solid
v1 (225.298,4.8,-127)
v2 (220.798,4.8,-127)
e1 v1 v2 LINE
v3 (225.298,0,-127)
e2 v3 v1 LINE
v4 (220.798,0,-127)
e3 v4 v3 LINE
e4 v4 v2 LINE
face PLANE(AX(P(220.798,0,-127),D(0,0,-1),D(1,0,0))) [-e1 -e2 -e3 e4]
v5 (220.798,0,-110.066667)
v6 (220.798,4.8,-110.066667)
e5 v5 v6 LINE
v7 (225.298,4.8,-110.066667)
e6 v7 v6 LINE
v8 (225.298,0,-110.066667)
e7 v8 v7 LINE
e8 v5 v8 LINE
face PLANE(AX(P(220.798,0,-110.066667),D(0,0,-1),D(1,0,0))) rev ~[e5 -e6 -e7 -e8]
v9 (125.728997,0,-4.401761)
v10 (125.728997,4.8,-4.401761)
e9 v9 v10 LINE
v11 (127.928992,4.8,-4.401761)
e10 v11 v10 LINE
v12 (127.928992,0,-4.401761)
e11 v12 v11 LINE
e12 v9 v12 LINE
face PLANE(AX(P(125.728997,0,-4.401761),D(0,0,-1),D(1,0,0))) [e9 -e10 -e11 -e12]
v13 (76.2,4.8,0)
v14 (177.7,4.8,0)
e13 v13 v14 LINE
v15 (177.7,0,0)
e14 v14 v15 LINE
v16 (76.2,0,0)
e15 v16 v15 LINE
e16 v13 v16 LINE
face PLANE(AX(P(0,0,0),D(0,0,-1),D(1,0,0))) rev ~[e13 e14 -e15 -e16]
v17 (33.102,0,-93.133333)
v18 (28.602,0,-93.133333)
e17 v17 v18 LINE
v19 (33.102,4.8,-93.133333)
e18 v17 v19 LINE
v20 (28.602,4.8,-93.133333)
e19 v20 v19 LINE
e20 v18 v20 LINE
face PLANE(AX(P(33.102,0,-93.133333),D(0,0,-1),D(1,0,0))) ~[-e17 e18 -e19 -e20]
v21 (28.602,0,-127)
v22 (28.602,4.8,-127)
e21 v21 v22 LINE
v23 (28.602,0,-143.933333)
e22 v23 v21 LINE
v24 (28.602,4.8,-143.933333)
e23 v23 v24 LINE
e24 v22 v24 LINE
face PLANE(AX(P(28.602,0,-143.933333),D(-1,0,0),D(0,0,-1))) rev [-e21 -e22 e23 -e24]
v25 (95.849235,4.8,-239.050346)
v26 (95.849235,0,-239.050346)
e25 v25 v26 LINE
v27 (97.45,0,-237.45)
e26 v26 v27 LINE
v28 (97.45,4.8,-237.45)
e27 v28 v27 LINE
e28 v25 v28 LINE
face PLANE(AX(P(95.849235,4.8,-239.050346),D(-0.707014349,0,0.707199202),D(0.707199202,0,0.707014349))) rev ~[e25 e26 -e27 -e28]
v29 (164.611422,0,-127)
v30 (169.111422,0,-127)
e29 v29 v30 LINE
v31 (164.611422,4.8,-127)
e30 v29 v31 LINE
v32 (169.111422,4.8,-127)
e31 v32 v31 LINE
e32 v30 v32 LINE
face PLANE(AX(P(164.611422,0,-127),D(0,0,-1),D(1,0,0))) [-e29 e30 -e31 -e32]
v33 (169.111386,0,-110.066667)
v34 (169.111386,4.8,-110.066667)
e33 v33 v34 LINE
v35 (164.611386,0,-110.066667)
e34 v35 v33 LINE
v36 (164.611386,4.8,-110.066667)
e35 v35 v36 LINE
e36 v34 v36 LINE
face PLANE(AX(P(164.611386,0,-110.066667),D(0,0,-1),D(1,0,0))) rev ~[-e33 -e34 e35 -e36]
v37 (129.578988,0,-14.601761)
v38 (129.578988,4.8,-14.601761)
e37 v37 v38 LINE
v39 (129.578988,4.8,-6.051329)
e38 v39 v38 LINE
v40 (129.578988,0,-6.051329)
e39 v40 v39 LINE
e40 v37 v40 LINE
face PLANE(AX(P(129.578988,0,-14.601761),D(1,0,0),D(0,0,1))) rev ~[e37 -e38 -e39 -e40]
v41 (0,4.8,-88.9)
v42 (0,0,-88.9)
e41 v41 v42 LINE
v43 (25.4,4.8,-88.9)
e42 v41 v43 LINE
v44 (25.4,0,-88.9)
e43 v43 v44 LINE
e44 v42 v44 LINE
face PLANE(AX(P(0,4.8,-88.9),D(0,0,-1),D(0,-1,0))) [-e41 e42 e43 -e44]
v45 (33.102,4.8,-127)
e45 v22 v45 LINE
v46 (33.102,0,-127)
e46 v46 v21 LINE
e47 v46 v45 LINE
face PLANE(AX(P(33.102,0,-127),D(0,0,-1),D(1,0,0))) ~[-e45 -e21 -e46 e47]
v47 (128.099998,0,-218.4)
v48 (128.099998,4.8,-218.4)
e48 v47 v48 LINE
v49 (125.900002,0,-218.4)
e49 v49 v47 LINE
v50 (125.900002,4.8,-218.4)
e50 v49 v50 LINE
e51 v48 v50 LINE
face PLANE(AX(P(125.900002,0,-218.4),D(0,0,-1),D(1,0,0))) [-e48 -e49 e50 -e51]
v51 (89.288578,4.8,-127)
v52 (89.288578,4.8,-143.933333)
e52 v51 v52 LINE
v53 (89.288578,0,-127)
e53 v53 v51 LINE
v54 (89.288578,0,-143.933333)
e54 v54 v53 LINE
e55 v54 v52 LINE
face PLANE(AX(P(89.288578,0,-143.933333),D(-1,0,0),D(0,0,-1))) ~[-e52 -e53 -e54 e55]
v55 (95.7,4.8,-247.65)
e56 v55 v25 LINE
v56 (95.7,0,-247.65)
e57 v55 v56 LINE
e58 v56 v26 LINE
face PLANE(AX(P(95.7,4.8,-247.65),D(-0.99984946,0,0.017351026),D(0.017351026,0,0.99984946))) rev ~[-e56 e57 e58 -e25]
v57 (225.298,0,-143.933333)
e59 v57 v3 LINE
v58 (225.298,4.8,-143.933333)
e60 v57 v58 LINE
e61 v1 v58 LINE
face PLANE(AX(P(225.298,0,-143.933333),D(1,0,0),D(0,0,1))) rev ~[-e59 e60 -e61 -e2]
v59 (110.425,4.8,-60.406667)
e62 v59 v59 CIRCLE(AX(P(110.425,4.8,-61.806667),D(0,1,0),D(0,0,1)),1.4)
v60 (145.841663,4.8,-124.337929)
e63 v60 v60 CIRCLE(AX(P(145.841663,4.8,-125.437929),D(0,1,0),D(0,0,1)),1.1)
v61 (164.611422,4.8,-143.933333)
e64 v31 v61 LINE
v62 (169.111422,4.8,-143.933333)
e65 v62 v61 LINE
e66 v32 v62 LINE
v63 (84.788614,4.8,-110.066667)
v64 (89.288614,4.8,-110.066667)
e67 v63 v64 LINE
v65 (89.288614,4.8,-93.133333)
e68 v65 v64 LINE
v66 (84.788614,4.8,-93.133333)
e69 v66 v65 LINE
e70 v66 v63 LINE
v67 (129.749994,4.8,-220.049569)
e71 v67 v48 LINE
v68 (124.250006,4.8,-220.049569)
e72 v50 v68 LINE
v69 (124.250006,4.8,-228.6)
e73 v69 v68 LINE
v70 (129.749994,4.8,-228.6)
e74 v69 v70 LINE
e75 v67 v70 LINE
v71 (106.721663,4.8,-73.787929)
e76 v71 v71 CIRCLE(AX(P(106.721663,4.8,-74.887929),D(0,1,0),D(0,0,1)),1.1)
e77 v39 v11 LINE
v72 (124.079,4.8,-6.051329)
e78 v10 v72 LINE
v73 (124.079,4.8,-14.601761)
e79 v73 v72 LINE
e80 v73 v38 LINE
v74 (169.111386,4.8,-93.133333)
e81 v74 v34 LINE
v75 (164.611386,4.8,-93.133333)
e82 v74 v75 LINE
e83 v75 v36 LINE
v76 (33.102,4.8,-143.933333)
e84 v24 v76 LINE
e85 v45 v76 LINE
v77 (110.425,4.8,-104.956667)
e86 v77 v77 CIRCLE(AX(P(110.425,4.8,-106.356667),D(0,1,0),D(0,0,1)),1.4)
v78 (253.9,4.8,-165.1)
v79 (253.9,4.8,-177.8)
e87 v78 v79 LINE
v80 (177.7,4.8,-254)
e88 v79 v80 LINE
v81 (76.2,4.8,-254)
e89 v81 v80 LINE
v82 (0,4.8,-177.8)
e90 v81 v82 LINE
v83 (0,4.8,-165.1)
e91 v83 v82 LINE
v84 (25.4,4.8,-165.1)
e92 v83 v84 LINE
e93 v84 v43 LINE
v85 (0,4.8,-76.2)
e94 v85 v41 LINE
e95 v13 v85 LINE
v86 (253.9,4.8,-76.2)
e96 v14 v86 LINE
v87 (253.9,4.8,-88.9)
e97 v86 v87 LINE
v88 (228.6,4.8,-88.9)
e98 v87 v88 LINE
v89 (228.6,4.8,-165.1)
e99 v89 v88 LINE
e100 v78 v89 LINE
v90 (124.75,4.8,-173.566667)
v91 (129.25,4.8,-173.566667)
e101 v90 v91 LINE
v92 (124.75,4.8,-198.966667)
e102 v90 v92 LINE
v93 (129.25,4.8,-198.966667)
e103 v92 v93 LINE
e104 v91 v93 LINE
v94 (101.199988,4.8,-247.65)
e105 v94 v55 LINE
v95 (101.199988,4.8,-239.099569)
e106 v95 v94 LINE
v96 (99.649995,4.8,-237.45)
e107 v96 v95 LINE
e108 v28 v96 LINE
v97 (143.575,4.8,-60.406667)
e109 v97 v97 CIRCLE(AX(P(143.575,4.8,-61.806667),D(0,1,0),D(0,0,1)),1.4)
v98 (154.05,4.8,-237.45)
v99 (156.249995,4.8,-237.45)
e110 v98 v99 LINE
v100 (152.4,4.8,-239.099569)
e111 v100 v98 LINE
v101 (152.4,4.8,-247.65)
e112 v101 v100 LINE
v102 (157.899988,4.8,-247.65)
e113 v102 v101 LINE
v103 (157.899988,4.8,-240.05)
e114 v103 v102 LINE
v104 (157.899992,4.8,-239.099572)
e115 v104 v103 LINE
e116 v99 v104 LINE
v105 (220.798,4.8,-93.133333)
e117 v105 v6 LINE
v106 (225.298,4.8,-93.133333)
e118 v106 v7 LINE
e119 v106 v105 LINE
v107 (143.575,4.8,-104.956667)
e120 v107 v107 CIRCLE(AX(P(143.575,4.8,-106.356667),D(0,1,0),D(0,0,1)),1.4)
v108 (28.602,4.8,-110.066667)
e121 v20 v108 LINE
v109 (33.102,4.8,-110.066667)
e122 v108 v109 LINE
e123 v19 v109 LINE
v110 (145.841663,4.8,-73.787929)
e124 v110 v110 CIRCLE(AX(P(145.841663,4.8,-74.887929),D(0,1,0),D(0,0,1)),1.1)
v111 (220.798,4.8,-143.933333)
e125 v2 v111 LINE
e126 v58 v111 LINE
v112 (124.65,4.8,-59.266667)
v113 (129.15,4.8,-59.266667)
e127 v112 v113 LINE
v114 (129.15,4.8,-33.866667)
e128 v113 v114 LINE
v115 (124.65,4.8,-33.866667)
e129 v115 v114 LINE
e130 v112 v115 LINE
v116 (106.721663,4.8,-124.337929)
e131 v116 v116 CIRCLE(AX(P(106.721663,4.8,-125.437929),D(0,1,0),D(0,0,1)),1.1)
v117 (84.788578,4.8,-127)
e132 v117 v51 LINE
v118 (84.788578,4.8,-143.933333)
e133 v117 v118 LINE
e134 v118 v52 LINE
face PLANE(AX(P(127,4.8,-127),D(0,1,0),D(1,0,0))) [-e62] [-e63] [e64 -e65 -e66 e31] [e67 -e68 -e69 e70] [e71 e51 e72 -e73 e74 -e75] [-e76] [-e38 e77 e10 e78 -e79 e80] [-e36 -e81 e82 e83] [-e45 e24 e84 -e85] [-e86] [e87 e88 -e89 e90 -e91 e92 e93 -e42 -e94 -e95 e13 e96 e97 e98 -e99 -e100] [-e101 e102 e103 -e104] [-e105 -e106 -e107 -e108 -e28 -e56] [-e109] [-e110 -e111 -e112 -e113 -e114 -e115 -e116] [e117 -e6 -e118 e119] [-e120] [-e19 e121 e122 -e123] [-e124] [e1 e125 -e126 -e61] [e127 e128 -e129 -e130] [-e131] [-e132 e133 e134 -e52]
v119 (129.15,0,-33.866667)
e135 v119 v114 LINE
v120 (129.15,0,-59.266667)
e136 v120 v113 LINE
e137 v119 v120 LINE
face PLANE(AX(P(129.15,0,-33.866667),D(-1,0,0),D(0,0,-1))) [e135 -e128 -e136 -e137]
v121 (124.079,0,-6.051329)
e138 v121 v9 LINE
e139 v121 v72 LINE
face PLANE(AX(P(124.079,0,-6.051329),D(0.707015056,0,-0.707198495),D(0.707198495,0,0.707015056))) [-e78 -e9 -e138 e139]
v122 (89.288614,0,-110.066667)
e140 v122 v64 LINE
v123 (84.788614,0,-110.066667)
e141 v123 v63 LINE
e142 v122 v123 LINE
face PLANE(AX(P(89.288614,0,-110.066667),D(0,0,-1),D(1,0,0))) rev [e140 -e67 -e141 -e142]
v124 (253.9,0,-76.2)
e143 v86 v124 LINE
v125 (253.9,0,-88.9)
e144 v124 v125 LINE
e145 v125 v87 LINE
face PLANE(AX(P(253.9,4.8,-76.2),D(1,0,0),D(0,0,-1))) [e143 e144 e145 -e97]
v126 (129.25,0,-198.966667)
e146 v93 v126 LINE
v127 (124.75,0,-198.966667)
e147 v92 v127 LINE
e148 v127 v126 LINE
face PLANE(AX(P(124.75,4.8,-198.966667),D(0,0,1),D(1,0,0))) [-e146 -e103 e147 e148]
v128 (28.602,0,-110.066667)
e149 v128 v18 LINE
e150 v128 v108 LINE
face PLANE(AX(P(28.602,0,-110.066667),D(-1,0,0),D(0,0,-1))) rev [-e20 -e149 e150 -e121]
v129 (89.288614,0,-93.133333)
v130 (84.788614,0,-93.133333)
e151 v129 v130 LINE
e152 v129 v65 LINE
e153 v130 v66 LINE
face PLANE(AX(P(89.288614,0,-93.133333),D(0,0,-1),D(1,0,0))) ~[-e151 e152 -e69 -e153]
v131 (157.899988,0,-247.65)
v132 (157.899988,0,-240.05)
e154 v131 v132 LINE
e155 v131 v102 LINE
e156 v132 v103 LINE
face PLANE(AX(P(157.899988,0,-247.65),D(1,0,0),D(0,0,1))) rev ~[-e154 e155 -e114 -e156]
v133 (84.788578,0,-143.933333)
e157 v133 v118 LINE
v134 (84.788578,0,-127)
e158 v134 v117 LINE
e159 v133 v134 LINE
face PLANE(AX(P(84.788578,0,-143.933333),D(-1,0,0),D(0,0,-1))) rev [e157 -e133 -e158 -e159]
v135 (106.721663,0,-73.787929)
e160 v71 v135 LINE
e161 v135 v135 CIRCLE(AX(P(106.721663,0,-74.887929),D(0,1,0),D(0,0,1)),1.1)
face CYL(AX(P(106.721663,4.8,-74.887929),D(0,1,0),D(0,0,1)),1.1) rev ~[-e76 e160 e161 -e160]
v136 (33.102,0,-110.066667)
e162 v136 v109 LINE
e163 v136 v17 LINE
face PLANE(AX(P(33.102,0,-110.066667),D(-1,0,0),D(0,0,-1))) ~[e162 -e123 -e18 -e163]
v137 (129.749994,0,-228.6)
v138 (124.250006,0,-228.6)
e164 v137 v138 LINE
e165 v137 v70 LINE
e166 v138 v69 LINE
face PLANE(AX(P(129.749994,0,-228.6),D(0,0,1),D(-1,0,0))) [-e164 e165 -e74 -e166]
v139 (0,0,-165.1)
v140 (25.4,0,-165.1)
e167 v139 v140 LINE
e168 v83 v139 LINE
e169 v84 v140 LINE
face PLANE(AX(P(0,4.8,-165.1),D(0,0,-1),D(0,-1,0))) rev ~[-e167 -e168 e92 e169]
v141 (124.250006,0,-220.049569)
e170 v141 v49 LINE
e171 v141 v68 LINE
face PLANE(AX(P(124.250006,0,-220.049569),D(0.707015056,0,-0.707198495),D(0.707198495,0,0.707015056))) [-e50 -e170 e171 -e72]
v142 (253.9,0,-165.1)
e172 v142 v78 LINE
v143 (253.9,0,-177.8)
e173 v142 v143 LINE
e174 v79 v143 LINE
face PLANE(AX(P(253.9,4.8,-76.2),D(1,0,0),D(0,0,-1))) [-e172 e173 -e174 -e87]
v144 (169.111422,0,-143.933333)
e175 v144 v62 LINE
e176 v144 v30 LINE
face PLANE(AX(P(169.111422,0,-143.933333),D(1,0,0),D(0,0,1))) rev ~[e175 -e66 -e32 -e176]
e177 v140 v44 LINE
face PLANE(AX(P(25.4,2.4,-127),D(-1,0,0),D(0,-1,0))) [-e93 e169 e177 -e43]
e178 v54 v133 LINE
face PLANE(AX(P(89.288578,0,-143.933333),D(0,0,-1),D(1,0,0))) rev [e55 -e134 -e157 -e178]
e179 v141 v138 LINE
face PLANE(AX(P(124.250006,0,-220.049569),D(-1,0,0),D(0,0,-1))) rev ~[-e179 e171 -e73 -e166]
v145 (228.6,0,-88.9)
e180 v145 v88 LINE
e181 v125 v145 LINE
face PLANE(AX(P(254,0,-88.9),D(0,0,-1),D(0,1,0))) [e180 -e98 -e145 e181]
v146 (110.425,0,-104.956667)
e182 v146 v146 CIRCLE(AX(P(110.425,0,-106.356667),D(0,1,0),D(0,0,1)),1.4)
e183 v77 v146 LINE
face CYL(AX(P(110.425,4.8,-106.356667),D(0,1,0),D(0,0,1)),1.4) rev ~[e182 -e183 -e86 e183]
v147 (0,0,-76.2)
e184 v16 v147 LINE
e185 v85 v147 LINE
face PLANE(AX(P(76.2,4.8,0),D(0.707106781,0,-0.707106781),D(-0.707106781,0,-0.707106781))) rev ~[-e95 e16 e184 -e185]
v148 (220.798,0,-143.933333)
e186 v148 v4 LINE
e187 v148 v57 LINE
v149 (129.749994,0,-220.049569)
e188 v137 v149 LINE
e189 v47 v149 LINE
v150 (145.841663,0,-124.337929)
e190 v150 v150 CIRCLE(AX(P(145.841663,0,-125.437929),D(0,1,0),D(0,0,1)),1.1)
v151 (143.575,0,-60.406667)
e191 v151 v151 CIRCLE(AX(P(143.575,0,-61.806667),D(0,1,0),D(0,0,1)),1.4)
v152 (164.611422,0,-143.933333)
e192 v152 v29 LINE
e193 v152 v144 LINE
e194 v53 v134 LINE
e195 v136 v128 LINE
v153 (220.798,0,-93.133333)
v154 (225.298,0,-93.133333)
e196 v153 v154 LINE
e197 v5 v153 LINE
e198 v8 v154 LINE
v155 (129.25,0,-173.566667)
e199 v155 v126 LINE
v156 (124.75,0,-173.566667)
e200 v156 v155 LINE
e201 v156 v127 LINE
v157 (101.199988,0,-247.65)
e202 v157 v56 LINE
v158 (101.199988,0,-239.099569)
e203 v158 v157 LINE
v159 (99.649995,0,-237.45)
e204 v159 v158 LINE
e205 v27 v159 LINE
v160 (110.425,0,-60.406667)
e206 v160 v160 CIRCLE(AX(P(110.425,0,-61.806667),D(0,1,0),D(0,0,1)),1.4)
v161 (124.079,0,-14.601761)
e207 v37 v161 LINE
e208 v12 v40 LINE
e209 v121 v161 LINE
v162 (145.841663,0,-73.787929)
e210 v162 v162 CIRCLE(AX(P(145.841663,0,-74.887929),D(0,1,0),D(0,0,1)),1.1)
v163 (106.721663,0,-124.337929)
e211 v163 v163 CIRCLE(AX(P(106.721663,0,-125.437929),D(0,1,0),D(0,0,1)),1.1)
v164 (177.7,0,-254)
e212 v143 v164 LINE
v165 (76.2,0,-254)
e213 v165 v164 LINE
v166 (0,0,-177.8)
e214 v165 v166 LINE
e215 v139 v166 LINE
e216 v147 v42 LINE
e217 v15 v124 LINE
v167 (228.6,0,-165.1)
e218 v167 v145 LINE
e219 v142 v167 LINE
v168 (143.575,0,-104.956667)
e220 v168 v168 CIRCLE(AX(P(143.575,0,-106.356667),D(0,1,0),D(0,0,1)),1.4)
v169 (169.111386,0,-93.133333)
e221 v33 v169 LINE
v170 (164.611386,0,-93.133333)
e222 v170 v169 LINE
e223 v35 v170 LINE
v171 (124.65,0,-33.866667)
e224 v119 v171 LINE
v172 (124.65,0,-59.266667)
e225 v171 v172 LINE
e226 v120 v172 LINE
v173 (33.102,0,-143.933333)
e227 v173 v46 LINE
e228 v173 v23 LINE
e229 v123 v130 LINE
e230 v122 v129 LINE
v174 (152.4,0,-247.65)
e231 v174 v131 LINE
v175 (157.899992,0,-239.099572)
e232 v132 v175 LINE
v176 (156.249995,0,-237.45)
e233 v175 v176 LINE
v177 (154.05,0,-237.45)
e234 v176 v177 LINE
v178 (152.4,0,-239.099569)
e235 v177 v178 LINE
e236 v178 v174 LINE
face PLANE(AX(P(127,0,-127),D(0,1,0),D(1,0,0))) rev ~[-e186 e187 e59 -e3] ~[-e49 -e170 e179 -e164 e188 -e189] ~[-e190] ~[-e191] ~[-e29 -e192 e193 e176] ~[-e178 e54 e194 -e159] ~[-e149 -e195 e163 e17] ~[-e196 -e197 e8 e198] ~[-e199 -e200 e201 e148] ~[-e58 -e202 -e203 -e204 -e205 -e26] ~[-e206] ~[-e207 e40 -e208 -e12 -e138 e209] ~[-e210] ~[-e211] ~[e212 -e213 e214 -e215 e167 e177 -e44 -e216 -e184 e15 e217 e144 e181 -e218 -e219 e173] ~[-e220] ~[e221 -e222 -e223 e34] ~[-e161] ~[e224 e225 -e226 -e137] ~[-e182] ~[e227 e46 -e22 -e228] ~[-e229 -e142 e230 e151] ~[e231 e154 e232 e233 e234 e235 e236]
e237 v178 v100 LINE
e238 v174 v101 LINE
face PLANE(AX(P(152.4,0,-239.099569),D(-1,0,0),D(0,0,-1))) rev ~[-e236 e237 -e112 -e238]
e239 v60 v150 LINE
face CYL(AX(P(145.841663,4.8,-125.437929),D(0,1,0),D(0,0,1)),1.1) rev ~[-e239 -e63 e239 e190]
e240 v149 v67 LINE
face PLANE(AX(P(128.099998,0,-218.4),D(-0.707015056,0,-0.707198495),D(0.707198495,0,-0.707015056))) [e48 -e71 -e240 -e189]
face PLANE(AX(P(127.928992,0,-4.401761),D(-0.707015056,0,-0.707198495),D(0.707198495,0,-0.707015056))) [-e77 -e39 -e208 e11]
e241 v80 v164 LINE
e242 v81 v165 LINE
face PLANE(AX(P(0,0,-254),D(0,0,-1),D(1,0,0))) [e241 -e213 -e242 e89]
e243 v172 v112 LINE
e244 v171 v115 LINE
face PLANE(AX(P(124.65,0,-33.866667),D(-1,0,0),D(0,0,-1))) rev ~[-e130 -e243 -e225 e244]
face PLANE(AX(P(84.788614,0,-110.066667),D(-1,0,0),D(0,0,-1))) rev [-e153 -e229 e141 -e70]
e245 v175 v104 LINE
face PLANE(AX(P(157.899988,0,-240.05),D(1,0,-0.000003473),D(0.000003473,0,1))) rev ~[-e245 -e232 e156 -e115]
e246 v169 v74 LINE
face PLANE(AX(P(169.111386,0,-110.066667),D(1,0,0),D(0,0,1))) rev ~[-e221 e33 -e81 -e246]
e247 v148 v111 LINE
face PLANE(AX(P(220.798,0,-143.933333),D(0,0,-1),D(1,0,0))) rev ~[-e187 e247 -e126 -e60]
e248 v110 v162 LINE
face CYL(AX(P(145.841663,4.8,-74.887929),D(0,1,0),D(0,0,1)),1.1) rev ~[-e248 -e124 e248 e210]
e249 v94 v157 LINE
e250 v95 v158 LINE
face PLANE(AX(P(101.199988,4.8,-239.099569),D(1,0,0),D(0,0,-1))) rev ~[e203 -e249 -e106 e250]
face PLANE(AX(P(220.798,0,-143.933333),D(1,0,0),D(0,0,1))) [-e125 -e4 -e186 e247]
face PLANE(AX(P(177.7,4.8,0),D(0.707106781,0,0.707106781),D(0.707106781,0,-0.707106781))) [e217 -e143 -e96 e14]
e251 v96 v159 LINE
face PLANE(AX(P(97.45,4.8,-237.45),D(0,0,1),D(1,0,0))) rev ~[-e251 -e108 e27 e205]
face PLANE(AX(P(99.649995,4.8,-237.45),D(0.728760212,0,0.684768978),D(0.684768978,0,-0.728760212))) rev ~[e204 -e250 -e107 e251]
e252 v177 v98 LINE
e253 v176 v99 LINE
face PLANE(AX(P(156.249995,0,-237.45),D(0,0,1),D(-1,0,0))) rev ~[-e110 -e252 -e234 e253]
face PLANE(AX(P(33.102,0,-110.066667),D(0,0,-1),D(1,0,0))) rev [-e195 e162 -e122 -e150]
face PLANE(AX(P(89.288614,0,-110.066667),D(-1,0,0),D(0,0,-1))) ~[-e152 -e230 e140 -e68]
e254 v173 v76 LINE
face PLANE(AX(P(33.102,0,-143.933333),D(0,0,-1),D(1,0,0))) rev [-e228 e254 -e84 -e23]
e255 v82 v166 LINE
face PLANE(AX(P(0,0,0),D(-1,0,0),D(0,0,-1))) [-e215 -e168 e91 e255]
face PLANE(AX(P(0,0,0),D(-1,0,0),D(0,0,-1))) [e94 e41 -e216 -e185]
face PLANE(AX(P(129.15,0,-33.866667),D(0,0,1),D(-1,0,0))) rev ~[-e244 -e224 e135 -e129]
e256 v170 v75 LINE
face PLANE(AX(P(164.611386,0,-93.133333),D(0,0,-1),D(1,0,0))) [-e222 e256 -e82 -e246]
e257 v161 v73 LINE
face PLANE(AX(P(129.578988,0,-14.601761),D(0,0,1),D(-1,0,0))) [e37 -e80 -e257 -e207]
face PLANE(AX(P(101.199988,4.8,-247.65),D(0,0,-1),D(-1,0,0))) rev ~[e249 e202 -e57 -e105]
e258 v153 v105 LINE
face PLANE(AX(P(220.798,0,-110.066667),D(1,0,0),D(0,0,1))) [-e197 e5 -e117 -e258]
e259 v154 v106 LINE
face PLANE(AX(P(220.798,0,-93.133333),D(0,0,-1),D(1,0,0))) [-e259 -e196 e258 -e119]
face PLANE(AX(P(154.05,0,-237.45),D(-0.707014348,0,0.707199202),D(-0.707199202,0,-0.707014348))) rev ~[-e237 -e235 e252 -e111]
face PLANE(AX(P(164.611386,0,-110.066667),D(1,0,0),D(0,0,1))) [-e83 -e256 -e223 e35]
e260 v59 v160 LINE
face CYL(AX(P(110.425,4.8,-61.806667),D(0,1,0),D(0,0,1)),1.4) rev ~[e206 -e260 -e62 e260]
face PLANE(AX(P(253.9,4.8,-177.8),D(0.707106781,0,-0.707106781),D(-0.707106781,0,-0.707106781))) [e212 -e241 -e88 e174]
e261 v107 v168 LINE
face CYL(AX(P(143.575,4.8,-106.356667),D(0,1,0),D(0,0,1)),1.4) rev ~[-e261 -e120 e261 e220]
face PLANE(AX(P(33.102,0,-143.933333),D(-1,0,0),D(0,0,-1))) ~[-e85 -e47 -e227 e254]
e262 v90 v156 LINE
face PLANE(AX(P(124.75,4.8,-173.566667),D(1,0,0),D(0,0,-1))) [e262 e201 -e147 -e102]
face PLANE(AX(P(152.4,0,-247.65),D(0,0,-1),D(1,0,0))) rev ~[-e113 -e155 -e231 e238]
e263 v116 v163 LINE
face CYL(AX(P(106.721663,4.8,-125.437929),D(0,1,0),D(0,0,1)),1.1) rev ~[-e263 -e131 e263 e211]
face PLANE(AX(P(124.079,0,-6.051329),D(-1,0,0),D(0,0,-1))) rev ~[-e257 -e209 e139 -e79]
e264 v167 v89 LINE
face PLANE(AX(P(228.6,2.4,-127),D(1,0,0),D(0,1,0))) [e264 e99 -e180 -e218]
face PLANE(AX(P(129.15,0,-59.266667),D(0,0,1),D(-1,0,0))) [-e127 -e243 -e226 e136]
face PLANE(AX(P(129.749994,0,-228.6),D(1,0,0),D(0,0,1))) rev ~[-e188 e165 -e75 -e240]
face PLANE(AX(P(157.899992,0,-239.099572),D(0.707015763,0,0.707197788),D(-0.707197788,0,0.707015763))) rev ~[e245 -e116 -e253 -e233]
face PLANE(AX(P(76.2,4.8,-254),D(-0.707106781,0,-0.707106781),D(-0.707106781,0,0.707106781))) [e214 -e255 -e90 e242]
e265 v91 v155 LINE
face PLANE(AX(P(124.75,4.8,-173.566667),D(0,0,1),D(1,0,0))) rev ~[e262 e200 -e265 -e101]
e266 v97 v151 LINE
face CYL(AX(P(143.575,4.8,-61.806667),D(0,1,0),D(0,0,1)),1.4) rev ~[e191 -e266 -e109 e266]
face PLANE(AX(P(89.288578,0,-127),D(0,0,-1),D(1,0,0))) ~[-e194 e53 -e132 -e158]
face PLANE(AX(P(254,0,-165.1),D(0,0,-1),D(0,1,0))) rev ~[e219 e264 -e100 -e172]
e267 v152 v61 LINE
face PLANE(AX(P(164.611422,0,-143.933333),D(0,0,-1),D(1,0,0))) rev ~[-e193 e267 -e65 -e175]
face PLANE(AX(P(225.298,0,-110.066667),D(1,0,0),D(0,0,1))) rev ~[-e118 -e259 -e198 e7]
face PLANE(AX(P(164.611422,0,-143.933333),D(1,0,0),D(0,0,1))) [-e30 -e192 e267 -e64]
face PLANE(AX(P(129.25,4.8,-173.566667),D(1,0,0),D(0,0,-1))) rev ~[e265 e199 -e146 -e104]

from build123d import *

# Parameters (mm, degrees)
SKETCH1_W            = 254
SKETCH1_H            = 254
BOSS_EXTRUDE1_DEPTH  = 4.800000052
CUT_EXTRUDE2_DEPTH   = 360.242313767
CUT_EXTRUDE3_DEPTH   = 4.826
CUT_EXTRUDE5_DEPTH   = 4.826
CUT_EXTRUDE6_DEPTH   = 4.826
SKETCH16_OUTSIDE_W   = 327.848
SKETCH16_OUTSIDE_H   = 327.848
CUT_EXTRUDE8_DEPTH   = 360.242313767
SKETCH17_OUTSIDE_W   = 327.848
SKETCH17_OUTSIDE_H   = 327.848
CUT_EXTRUDE17_DEPTH  = 360.242313767
SKETCH18_OUTSIDE_W   = 327.848
SKETCH18_OUTSIDE_H   = 327.848
CUT_EXTRUDE18_DEPTH  = 216.155906991
SKETCH19_OUTSIDE_W   = 327.734
SKETCH19_OUTSIDE_H   = 327.834
SKETCH19_OUTSIDE_W_2 = 4.500000144
SKETCH19_OUTSIDE_H_2 = 16.933333333
CUT_EXTRUDE19_DEPTH  = 364.309275828
SKETCH32_W           = 4.800000052
SKETCH32_H           = 76.2
CUT_EXTRUDE22_DEPTH  = 25.4
CUT_EXTRUDE23_DEPTH  = 216.155906991
SKETCH34_W           = 4.800000052
SKETCH34_H           = 76.2
CUT_EXTRUDE24_DEPTH  = 25.4
SKETCH36_W           = 4.500000144
SKETCH36_H           = 16.933333333
CUT_EXTRUDE26_DEPTH  = 364.309275828
SKETCH37_W           = 4.500000144
SKETCH37_H           = 25.4
CUT_EXTRUDE27_DEPTH  = 360.171616324
SKETCH48_W           = 4.500000144
SKETCH48_H           = 25.4
CUT_EXTRUDE34_DEPTH  = 360.171616324
SKETCH50_R           = 1.4
CUT_EXTRUDE35_DEPTH  = 506.24041807
SKETCH51_R           = 1.1
CUT_EXTRUDE36_DEPTH  = 1021.904407936


with BuildPart() as part:
    # Sketch1 → Boss-Extrude1 (new body)
    with BuildSketch(Plane(origin=(0, 0, 0), x_dir=(1, 0, 0), z_dir=(0, 1, 0))):
        with Locations((127, 127)):
            Rectangle(SKETCH1_W, SKETCH1_H)
    extrude(amount=BOSS_EXTRUDE1_DEPTH)

    # Sketch4 → Cut-Extrude2 (cut, through all)
    with BuildSketch(Plane(origin=(0, 4.800000052, 0), x_dir=(1, 0, 0), z_dir=(0, 1, 0))):
        Polygon((76.2, 254), (0, 177.8), (0, 254), align=None)
    extrude(amount=-CUT_EXTRUDE2_DEPTH, mode=Mode.SUBTRACT)

    # Sketch5 → Cut-Extrude3 (cut)
    with BuildSketch(Plane(origin=(0, 4.800000052, 0), x_dir=(1, 0, 0), z_dir=(0, 1, 0))):
        Polygon((177.8, 254), (254, 177.8), (254, 254), align=None)
    extrude(amount=-CUT_EXTRUDE3_DEPTH, mode=Mode.SUBTRACT)

    # Sketch9 → Cut-Extrude5 (cut)
    with BuildSketch(Plane(origin=(0, 4.800000052, 0), x_dir=(1, 0, 0), z_dir=(0, 1, 0))):
        Polygon((0, 76.2), (0, 0), (76.2, 0), align=None)
    extrude(amount=-CUT_EXTRUDE5_DEPTH, mode=Mode.SUBTRACT)

    # Sketch11 → Cut-Extrude6 (cut)
    with BuildSketch(Plane(origin=(0, 4.800000052, 0), x_dir=(1, 0, 0), z_dir=(0, 1, 0))):
        Polygon((254, 76.2), (254, 0), (177.8, 0), align=None)
    extrude(amount=-CUT_EXTRUDE6_DEPTH, mode=Mode.SUBTRACT)

    # Sketch16 outside → Cut-Extrude8 (cut, through all)
    # profile 1 of 2: a face of its own
    with BuildSketch(Plane.XZ):
        with Locations((127, -127)):
            Rectangle(SKETCH16_OUTSIDE_W, SKETCH16_OUTSIDE_H)
        Polygon((254, -76.2), (177.8, 0), (76.2, 0), (0, -76.2), (0, -177.8), (76.2, -254), (177.8, -254), (254, -177.8), align=None, mode=Mode.SUBTRACT)
    # profile 2 of 2: a face of its own
    with BuildSketch(Plane.XZ):
        Polygon((154.05, -237.45), (152.4, -239.09956871), (152.4, -247.65), (157.899988492, -247.65), (157.899988492, -247.233680101), (157.899988492, -246.283680101), (157.899988492, -243.349999982), (157.899988492, -243.025), (157.899988492, -242.075), (157.899988492, -241.750000018), (157.899988492, -240.049999963), (157.899991793, -239.09957201), (156.249995092, -237.45), align=None)
    extrude(amount=-CUT_EXTRUDE8_DEPTH, mode=Mode.SUBTRACT)

    # Sketch17 outside → Cut-Extrude17 (cut, through all)
    # profile 1 of 2: a face of its own
    with BuildSketch(Plane.XZ):
        with Locations((127, -127)):
            Rectangle(SKETCH17_OUTSIDE_W, SKETCH17_OUTSIDE_H)
        Polygon((254, -76.2), (177.8, 0), (76.2, 0), (0, -76.2), (0, -177.8), (76.2, -254), (177.8, -254), (254, -177.8), align=None, mode=Mode.SUBTRACT)
    # profile 2 of 2: a face of its own
    with BuildSketch(Plane.XZ):
        Polygon((125.900002454, -218.4), (128.099997546, -218.4), (129.749994246, -220.04956871), (129.749994246, -220.999999963), (129.749994246, -222.700000018), (129.749994246, -223.025), (129.749994246, -223.975), (129.749994246, -224.299999982), (129.749994246, -227.233680101), (129.749994246, -228.183680101), (129.749994246, -228.6), (124.250005754, -228.6), (124.250005754, -228.183680101), (124.250005754, -228.15), (124.250005754, -227.233680101), (124.250005754, -224.299999982), (124.250005754, -223.975), (124.250005754, -223.025), (124.250005754, -222.700000018), (124.250005754, -220.999999963), (124.250005754, -220.04956871), align=None)
    extrude(amount=-CUT_EXTRUDE17_DEPTH, mode=Mode.SUBTRACT)

    # Sketch18 outside → Cut-Extrude18 (cut, through all)
    # profile 1 of 2: a face of its own
    with BuildSketch(Plane(origin=(166.661666982, 4.800000052, -135.988650526), x_dir=(1, 0, 0), z_dir=(0, 1, 0))):
        with Locations((-39.662, -8.989)):
            Rectangle(SKETCH18_OUTSIDE_W, SKETCH18_OUTSIDE_H)
        Polygon((-90.561667036, -135.988650526), (11.038332964, -135.988650526), (87.238332964, -59.788650526), (87.238332964, 41.811349474), (11.038332964, 118.011349474), (-90.561667036, 118.011349474), (-166.761667036, 41.811349474), (-166.761667036, -59.788650526), align=None, mode=Mode.SUBTRACT)
    # profile 2 of 2: a face of its own
    with BuildSketch(Plane(origin=(166.661666982, 4.800000052, -135.988650526), x_dir=(1, 0, 0), z_dir=(0, 1, 0))):
        Polygon((-65.461678544, 103.110918185), (-65.461678544, 111.661349474), (-70.961667036, 111.661349474), (-70.812431754, 103.061695826), (-69.211666982, 101.461349474), (-67.01167189, 101.461349474), align=None)
    extrude(amount=-CUT_EXTRUDE18_DEPTH, mode=Mode.SUBTRACT)

    # Sketch19 outside → Cut-Extrude19 (cut, through all)
    # profile 1 of 3: a face of its own
    with BuildSketch(Plane(origin=(277.632305151, 0, -234.288055689), x_dir=(1, 0, 0), z_dir=(0, -1, 0))):
        with Locations((-150.682, 107.288)):
            Rectangle(SKETCH19_OUTSIDE_W, SKETCH19_OUTSIDE_H)
        Polygon((-23.632305151, 158.088055689), (-99.832305151, 234.288055689), (-201.432305151, 234.288055689), (-277.632305151, 158.088055689), (-277.632305151, 56.488055689), (-201.432305151, -19.711944311), (-99.832305151, -19.711944311), (-23.632305151, 56.488055689), align=None, mode=Mode.SUBTRACT)
    # profile 2 of 3: a face of its own
    with BuildSketch(Plane(origin=(277.632305151, 0, -234.288055689), x_dir=(1, 0, 0), z_dir=(0, -1, 0))):
        with Locations((-54.584305223, 132.68805569)):
            Rectangle(SKETCH19_OUTSIDE_W_2, SKETCH19_OUTSIDE_H_2)
    # profile 3 of 3: a face of its own
    with BuildSketch(Plane(origin=(277.632305151, 0, -234.288055689), x_dir=(1, 0, 0), z_dir=(0, -1, 0))):
        with Locations((-54.584305223, 98.821389023)):
            Rectangle(SKETCH19_OUTSIDE_W_2, SKETCH19_OUTSIDE_H_2)
    cut_extrude19 = extrude(amount=-CUT_EXTRUDE19_DEPTH, mode=Mode.SUBTRACT)

    # Mirror2: Cut-Extrude19 across plane
    add(cut_extrude19.mirror(Plane(origin=(126.949999973, 0, 0), x_dir=(0, 0, 1), z_dir=(1, 0, 0))), mode=Mode.SUBTRACT)

    # Sketch32 → Cut-Extrude22 (cut)
    with BuildSketch(Plane(origin=(254, 6.738807757, -234.288055689), x_dir=(0, 1, 0), z_dir=(1, 0, 0))):
        with Locations((-4.338807731, 107.288055689)):
            Rectangle(SKETCH32_W, SKETCH32_H)
    extrude(amount=-CUT_EXTRUDE22_DEPTH, mode=Mode.SUBTRACT)

    # Sketch33 → Cut-Extrude23 (cut, through all)
    with BuildSketch(Plane(origin=(166.661666982, 0, -135.988650526), x_dir=(1, 0, 0), z_dir=(0, -1, 0))):
        Polygon((-42.582666982, 122.75320968), (-42.582666982, 125.686889799), (-42.582666982, 126.011889781), (-42.582666982, 126.961889781), (-42.582666982, 127.286889763), (-42.582666982, 128.986889819), (-42.582666982, 129.937321071), (-40.932670282, 131.586889781), (-38.73267519, 131.586889781), (-37.08267849, 129.937321071), (-37.08267849, 122.75320968), (-37.08267849, 121.80320968), (-37.08267849, 121.386889781), (-42.582666982, 121.386889781), (-42.582666982, 121.836889781), align=None)
    extrude(amount=-CUT_EXTRUDE23_DEPTH, mode=Mode.SUBTRACT)

    # Sketch34 → Cut-Extrude24 (cut)
    with BuildSketch(Plane(origin=(0, 6.738807757, -234.288055689), x_dir=(0, -1, 0), z_dir=(-1, 0, 0))):
        with Locations((4.338807731, 107.288055689)):
            Rectangle(SKETCH34_W, SKETCH34_H)
    extrude(amount=-CUT_EXTRUDE24_DEPTH, mode=Mode.SUBTRACT)

    # Sketch36 → Cut-Extrude26 (cut, through all)
    with BuildSketch(Plane(origin=(277.632305151, 0, -234.288055689), x_dir=(1, 0, 0), z_dir=(0, -1, 0))):
        with Locations((-110.770919354, 132.68805569)):
            Rectangle(SKETCH36_W, SKETCH36_H)
        with Locations((-110.770883223, 98.821389023)):
            Rectangle(SKETCH36_W, SKETCH36_H)
    cut_extrude26 = extrude(amount=-CUT_EXTRUDE26_DEPTH, mode=Mode.SUBTRACT)

    # Mirror3: Cut-Extrude26 across plane
    add(cut_extrude26.mirror(Plane(origin=(126.949999973, 0, 0), x_dir=(0, 0, 1), z_dir=(1, 0, 0))), mode=Mode.SUBTRACT)

    # Sketch37 → Cut-Extrude27 (cut, through all)
    with BuildSketch(Plane(origin=(0, 4.800000052, 0), x_dir=(1, 0, 0), z_dir=(0, 1, 0))):
        with Locations((127, 186.266666667)):
            Rectangle(SKETCH37_W, SKETCH37_H)
    extrude(amount=-CUT_EXTRUDE27_DEPTH, mode=Mode.SUBTRACT)

    # Sketch48 → Cut-Extrude34 (cut, through all)
    with BuildSketch(Plane(origin=(0, 0, 0), x_dir=(-1, 0, 0), z_dir=(0, -1, 0))):
        with Locations((-126.899999946, 46.566666667)):
            Rectangle(SKETCH48_W, SKETCH48_H)
    extrude(amount=-CUT_EXTRUDE34_DEPTH, mode=Mode.SUBTRACT)

    # Sketch50 → Cut-Extrude35 (cut, through all)
    with BuildSketch(Plane(origin=(0, 4.800000052, -436.783275868), x_dir=(1, 0, 0), z_dir=(0, 1, 0))):
        with Locations(Location((143.575, -330.426609202, 0), (0, 0, 270))):
            Circle(SKETCH50_R)
        with Locations(Location((110.425, -330.426609202, 0), (0, 0, 270))):
            Circle(SKETCH50_R)
        with Locations(Location((143.575, -374.976609202, 0), (0, 0, 270))):
            Circle(SKETCH50_R)
        with Locations(Location((110.425, -374.976609202, 0), (0, 0, 270))):
            Circle(SKETCH50_R)
    extrude(amount=-CUT_EXTRUDE35_DEPTH, mode=Mode.SUBTRACT)

    # Sketch51 → Cut-Extrude36 (cut, through all)
    with BuildSketch(Plane(origin=(0, 4.800000052, -988.816241862), x_dir=(1, 0, 0), z_dir=(0, 1, 0))):
        with Locations(Location((145.841662515, -863.378312681, 0), (0, 0, 270))):
            Circle(SKETCH51_R)
        with Locations(Location((106.721662515, -863.378312681, 0), (0, 0, 270))):
            Circle(SKETCH51_R)
        with Locations(Location((145.841662515, -913.928312681, 0), (0, 0, 270))):
            Circle(SKETCH51_R)
        with Locations(Location((106.721662515, -913.928312681, 0), (0, 0, 270))):
            Circle(SKETCH51_R)
    extrude(amount=-CUT_EXTRUDE36_DEPTH, mode=Mode.SUBTRACT)


solid = part.part
